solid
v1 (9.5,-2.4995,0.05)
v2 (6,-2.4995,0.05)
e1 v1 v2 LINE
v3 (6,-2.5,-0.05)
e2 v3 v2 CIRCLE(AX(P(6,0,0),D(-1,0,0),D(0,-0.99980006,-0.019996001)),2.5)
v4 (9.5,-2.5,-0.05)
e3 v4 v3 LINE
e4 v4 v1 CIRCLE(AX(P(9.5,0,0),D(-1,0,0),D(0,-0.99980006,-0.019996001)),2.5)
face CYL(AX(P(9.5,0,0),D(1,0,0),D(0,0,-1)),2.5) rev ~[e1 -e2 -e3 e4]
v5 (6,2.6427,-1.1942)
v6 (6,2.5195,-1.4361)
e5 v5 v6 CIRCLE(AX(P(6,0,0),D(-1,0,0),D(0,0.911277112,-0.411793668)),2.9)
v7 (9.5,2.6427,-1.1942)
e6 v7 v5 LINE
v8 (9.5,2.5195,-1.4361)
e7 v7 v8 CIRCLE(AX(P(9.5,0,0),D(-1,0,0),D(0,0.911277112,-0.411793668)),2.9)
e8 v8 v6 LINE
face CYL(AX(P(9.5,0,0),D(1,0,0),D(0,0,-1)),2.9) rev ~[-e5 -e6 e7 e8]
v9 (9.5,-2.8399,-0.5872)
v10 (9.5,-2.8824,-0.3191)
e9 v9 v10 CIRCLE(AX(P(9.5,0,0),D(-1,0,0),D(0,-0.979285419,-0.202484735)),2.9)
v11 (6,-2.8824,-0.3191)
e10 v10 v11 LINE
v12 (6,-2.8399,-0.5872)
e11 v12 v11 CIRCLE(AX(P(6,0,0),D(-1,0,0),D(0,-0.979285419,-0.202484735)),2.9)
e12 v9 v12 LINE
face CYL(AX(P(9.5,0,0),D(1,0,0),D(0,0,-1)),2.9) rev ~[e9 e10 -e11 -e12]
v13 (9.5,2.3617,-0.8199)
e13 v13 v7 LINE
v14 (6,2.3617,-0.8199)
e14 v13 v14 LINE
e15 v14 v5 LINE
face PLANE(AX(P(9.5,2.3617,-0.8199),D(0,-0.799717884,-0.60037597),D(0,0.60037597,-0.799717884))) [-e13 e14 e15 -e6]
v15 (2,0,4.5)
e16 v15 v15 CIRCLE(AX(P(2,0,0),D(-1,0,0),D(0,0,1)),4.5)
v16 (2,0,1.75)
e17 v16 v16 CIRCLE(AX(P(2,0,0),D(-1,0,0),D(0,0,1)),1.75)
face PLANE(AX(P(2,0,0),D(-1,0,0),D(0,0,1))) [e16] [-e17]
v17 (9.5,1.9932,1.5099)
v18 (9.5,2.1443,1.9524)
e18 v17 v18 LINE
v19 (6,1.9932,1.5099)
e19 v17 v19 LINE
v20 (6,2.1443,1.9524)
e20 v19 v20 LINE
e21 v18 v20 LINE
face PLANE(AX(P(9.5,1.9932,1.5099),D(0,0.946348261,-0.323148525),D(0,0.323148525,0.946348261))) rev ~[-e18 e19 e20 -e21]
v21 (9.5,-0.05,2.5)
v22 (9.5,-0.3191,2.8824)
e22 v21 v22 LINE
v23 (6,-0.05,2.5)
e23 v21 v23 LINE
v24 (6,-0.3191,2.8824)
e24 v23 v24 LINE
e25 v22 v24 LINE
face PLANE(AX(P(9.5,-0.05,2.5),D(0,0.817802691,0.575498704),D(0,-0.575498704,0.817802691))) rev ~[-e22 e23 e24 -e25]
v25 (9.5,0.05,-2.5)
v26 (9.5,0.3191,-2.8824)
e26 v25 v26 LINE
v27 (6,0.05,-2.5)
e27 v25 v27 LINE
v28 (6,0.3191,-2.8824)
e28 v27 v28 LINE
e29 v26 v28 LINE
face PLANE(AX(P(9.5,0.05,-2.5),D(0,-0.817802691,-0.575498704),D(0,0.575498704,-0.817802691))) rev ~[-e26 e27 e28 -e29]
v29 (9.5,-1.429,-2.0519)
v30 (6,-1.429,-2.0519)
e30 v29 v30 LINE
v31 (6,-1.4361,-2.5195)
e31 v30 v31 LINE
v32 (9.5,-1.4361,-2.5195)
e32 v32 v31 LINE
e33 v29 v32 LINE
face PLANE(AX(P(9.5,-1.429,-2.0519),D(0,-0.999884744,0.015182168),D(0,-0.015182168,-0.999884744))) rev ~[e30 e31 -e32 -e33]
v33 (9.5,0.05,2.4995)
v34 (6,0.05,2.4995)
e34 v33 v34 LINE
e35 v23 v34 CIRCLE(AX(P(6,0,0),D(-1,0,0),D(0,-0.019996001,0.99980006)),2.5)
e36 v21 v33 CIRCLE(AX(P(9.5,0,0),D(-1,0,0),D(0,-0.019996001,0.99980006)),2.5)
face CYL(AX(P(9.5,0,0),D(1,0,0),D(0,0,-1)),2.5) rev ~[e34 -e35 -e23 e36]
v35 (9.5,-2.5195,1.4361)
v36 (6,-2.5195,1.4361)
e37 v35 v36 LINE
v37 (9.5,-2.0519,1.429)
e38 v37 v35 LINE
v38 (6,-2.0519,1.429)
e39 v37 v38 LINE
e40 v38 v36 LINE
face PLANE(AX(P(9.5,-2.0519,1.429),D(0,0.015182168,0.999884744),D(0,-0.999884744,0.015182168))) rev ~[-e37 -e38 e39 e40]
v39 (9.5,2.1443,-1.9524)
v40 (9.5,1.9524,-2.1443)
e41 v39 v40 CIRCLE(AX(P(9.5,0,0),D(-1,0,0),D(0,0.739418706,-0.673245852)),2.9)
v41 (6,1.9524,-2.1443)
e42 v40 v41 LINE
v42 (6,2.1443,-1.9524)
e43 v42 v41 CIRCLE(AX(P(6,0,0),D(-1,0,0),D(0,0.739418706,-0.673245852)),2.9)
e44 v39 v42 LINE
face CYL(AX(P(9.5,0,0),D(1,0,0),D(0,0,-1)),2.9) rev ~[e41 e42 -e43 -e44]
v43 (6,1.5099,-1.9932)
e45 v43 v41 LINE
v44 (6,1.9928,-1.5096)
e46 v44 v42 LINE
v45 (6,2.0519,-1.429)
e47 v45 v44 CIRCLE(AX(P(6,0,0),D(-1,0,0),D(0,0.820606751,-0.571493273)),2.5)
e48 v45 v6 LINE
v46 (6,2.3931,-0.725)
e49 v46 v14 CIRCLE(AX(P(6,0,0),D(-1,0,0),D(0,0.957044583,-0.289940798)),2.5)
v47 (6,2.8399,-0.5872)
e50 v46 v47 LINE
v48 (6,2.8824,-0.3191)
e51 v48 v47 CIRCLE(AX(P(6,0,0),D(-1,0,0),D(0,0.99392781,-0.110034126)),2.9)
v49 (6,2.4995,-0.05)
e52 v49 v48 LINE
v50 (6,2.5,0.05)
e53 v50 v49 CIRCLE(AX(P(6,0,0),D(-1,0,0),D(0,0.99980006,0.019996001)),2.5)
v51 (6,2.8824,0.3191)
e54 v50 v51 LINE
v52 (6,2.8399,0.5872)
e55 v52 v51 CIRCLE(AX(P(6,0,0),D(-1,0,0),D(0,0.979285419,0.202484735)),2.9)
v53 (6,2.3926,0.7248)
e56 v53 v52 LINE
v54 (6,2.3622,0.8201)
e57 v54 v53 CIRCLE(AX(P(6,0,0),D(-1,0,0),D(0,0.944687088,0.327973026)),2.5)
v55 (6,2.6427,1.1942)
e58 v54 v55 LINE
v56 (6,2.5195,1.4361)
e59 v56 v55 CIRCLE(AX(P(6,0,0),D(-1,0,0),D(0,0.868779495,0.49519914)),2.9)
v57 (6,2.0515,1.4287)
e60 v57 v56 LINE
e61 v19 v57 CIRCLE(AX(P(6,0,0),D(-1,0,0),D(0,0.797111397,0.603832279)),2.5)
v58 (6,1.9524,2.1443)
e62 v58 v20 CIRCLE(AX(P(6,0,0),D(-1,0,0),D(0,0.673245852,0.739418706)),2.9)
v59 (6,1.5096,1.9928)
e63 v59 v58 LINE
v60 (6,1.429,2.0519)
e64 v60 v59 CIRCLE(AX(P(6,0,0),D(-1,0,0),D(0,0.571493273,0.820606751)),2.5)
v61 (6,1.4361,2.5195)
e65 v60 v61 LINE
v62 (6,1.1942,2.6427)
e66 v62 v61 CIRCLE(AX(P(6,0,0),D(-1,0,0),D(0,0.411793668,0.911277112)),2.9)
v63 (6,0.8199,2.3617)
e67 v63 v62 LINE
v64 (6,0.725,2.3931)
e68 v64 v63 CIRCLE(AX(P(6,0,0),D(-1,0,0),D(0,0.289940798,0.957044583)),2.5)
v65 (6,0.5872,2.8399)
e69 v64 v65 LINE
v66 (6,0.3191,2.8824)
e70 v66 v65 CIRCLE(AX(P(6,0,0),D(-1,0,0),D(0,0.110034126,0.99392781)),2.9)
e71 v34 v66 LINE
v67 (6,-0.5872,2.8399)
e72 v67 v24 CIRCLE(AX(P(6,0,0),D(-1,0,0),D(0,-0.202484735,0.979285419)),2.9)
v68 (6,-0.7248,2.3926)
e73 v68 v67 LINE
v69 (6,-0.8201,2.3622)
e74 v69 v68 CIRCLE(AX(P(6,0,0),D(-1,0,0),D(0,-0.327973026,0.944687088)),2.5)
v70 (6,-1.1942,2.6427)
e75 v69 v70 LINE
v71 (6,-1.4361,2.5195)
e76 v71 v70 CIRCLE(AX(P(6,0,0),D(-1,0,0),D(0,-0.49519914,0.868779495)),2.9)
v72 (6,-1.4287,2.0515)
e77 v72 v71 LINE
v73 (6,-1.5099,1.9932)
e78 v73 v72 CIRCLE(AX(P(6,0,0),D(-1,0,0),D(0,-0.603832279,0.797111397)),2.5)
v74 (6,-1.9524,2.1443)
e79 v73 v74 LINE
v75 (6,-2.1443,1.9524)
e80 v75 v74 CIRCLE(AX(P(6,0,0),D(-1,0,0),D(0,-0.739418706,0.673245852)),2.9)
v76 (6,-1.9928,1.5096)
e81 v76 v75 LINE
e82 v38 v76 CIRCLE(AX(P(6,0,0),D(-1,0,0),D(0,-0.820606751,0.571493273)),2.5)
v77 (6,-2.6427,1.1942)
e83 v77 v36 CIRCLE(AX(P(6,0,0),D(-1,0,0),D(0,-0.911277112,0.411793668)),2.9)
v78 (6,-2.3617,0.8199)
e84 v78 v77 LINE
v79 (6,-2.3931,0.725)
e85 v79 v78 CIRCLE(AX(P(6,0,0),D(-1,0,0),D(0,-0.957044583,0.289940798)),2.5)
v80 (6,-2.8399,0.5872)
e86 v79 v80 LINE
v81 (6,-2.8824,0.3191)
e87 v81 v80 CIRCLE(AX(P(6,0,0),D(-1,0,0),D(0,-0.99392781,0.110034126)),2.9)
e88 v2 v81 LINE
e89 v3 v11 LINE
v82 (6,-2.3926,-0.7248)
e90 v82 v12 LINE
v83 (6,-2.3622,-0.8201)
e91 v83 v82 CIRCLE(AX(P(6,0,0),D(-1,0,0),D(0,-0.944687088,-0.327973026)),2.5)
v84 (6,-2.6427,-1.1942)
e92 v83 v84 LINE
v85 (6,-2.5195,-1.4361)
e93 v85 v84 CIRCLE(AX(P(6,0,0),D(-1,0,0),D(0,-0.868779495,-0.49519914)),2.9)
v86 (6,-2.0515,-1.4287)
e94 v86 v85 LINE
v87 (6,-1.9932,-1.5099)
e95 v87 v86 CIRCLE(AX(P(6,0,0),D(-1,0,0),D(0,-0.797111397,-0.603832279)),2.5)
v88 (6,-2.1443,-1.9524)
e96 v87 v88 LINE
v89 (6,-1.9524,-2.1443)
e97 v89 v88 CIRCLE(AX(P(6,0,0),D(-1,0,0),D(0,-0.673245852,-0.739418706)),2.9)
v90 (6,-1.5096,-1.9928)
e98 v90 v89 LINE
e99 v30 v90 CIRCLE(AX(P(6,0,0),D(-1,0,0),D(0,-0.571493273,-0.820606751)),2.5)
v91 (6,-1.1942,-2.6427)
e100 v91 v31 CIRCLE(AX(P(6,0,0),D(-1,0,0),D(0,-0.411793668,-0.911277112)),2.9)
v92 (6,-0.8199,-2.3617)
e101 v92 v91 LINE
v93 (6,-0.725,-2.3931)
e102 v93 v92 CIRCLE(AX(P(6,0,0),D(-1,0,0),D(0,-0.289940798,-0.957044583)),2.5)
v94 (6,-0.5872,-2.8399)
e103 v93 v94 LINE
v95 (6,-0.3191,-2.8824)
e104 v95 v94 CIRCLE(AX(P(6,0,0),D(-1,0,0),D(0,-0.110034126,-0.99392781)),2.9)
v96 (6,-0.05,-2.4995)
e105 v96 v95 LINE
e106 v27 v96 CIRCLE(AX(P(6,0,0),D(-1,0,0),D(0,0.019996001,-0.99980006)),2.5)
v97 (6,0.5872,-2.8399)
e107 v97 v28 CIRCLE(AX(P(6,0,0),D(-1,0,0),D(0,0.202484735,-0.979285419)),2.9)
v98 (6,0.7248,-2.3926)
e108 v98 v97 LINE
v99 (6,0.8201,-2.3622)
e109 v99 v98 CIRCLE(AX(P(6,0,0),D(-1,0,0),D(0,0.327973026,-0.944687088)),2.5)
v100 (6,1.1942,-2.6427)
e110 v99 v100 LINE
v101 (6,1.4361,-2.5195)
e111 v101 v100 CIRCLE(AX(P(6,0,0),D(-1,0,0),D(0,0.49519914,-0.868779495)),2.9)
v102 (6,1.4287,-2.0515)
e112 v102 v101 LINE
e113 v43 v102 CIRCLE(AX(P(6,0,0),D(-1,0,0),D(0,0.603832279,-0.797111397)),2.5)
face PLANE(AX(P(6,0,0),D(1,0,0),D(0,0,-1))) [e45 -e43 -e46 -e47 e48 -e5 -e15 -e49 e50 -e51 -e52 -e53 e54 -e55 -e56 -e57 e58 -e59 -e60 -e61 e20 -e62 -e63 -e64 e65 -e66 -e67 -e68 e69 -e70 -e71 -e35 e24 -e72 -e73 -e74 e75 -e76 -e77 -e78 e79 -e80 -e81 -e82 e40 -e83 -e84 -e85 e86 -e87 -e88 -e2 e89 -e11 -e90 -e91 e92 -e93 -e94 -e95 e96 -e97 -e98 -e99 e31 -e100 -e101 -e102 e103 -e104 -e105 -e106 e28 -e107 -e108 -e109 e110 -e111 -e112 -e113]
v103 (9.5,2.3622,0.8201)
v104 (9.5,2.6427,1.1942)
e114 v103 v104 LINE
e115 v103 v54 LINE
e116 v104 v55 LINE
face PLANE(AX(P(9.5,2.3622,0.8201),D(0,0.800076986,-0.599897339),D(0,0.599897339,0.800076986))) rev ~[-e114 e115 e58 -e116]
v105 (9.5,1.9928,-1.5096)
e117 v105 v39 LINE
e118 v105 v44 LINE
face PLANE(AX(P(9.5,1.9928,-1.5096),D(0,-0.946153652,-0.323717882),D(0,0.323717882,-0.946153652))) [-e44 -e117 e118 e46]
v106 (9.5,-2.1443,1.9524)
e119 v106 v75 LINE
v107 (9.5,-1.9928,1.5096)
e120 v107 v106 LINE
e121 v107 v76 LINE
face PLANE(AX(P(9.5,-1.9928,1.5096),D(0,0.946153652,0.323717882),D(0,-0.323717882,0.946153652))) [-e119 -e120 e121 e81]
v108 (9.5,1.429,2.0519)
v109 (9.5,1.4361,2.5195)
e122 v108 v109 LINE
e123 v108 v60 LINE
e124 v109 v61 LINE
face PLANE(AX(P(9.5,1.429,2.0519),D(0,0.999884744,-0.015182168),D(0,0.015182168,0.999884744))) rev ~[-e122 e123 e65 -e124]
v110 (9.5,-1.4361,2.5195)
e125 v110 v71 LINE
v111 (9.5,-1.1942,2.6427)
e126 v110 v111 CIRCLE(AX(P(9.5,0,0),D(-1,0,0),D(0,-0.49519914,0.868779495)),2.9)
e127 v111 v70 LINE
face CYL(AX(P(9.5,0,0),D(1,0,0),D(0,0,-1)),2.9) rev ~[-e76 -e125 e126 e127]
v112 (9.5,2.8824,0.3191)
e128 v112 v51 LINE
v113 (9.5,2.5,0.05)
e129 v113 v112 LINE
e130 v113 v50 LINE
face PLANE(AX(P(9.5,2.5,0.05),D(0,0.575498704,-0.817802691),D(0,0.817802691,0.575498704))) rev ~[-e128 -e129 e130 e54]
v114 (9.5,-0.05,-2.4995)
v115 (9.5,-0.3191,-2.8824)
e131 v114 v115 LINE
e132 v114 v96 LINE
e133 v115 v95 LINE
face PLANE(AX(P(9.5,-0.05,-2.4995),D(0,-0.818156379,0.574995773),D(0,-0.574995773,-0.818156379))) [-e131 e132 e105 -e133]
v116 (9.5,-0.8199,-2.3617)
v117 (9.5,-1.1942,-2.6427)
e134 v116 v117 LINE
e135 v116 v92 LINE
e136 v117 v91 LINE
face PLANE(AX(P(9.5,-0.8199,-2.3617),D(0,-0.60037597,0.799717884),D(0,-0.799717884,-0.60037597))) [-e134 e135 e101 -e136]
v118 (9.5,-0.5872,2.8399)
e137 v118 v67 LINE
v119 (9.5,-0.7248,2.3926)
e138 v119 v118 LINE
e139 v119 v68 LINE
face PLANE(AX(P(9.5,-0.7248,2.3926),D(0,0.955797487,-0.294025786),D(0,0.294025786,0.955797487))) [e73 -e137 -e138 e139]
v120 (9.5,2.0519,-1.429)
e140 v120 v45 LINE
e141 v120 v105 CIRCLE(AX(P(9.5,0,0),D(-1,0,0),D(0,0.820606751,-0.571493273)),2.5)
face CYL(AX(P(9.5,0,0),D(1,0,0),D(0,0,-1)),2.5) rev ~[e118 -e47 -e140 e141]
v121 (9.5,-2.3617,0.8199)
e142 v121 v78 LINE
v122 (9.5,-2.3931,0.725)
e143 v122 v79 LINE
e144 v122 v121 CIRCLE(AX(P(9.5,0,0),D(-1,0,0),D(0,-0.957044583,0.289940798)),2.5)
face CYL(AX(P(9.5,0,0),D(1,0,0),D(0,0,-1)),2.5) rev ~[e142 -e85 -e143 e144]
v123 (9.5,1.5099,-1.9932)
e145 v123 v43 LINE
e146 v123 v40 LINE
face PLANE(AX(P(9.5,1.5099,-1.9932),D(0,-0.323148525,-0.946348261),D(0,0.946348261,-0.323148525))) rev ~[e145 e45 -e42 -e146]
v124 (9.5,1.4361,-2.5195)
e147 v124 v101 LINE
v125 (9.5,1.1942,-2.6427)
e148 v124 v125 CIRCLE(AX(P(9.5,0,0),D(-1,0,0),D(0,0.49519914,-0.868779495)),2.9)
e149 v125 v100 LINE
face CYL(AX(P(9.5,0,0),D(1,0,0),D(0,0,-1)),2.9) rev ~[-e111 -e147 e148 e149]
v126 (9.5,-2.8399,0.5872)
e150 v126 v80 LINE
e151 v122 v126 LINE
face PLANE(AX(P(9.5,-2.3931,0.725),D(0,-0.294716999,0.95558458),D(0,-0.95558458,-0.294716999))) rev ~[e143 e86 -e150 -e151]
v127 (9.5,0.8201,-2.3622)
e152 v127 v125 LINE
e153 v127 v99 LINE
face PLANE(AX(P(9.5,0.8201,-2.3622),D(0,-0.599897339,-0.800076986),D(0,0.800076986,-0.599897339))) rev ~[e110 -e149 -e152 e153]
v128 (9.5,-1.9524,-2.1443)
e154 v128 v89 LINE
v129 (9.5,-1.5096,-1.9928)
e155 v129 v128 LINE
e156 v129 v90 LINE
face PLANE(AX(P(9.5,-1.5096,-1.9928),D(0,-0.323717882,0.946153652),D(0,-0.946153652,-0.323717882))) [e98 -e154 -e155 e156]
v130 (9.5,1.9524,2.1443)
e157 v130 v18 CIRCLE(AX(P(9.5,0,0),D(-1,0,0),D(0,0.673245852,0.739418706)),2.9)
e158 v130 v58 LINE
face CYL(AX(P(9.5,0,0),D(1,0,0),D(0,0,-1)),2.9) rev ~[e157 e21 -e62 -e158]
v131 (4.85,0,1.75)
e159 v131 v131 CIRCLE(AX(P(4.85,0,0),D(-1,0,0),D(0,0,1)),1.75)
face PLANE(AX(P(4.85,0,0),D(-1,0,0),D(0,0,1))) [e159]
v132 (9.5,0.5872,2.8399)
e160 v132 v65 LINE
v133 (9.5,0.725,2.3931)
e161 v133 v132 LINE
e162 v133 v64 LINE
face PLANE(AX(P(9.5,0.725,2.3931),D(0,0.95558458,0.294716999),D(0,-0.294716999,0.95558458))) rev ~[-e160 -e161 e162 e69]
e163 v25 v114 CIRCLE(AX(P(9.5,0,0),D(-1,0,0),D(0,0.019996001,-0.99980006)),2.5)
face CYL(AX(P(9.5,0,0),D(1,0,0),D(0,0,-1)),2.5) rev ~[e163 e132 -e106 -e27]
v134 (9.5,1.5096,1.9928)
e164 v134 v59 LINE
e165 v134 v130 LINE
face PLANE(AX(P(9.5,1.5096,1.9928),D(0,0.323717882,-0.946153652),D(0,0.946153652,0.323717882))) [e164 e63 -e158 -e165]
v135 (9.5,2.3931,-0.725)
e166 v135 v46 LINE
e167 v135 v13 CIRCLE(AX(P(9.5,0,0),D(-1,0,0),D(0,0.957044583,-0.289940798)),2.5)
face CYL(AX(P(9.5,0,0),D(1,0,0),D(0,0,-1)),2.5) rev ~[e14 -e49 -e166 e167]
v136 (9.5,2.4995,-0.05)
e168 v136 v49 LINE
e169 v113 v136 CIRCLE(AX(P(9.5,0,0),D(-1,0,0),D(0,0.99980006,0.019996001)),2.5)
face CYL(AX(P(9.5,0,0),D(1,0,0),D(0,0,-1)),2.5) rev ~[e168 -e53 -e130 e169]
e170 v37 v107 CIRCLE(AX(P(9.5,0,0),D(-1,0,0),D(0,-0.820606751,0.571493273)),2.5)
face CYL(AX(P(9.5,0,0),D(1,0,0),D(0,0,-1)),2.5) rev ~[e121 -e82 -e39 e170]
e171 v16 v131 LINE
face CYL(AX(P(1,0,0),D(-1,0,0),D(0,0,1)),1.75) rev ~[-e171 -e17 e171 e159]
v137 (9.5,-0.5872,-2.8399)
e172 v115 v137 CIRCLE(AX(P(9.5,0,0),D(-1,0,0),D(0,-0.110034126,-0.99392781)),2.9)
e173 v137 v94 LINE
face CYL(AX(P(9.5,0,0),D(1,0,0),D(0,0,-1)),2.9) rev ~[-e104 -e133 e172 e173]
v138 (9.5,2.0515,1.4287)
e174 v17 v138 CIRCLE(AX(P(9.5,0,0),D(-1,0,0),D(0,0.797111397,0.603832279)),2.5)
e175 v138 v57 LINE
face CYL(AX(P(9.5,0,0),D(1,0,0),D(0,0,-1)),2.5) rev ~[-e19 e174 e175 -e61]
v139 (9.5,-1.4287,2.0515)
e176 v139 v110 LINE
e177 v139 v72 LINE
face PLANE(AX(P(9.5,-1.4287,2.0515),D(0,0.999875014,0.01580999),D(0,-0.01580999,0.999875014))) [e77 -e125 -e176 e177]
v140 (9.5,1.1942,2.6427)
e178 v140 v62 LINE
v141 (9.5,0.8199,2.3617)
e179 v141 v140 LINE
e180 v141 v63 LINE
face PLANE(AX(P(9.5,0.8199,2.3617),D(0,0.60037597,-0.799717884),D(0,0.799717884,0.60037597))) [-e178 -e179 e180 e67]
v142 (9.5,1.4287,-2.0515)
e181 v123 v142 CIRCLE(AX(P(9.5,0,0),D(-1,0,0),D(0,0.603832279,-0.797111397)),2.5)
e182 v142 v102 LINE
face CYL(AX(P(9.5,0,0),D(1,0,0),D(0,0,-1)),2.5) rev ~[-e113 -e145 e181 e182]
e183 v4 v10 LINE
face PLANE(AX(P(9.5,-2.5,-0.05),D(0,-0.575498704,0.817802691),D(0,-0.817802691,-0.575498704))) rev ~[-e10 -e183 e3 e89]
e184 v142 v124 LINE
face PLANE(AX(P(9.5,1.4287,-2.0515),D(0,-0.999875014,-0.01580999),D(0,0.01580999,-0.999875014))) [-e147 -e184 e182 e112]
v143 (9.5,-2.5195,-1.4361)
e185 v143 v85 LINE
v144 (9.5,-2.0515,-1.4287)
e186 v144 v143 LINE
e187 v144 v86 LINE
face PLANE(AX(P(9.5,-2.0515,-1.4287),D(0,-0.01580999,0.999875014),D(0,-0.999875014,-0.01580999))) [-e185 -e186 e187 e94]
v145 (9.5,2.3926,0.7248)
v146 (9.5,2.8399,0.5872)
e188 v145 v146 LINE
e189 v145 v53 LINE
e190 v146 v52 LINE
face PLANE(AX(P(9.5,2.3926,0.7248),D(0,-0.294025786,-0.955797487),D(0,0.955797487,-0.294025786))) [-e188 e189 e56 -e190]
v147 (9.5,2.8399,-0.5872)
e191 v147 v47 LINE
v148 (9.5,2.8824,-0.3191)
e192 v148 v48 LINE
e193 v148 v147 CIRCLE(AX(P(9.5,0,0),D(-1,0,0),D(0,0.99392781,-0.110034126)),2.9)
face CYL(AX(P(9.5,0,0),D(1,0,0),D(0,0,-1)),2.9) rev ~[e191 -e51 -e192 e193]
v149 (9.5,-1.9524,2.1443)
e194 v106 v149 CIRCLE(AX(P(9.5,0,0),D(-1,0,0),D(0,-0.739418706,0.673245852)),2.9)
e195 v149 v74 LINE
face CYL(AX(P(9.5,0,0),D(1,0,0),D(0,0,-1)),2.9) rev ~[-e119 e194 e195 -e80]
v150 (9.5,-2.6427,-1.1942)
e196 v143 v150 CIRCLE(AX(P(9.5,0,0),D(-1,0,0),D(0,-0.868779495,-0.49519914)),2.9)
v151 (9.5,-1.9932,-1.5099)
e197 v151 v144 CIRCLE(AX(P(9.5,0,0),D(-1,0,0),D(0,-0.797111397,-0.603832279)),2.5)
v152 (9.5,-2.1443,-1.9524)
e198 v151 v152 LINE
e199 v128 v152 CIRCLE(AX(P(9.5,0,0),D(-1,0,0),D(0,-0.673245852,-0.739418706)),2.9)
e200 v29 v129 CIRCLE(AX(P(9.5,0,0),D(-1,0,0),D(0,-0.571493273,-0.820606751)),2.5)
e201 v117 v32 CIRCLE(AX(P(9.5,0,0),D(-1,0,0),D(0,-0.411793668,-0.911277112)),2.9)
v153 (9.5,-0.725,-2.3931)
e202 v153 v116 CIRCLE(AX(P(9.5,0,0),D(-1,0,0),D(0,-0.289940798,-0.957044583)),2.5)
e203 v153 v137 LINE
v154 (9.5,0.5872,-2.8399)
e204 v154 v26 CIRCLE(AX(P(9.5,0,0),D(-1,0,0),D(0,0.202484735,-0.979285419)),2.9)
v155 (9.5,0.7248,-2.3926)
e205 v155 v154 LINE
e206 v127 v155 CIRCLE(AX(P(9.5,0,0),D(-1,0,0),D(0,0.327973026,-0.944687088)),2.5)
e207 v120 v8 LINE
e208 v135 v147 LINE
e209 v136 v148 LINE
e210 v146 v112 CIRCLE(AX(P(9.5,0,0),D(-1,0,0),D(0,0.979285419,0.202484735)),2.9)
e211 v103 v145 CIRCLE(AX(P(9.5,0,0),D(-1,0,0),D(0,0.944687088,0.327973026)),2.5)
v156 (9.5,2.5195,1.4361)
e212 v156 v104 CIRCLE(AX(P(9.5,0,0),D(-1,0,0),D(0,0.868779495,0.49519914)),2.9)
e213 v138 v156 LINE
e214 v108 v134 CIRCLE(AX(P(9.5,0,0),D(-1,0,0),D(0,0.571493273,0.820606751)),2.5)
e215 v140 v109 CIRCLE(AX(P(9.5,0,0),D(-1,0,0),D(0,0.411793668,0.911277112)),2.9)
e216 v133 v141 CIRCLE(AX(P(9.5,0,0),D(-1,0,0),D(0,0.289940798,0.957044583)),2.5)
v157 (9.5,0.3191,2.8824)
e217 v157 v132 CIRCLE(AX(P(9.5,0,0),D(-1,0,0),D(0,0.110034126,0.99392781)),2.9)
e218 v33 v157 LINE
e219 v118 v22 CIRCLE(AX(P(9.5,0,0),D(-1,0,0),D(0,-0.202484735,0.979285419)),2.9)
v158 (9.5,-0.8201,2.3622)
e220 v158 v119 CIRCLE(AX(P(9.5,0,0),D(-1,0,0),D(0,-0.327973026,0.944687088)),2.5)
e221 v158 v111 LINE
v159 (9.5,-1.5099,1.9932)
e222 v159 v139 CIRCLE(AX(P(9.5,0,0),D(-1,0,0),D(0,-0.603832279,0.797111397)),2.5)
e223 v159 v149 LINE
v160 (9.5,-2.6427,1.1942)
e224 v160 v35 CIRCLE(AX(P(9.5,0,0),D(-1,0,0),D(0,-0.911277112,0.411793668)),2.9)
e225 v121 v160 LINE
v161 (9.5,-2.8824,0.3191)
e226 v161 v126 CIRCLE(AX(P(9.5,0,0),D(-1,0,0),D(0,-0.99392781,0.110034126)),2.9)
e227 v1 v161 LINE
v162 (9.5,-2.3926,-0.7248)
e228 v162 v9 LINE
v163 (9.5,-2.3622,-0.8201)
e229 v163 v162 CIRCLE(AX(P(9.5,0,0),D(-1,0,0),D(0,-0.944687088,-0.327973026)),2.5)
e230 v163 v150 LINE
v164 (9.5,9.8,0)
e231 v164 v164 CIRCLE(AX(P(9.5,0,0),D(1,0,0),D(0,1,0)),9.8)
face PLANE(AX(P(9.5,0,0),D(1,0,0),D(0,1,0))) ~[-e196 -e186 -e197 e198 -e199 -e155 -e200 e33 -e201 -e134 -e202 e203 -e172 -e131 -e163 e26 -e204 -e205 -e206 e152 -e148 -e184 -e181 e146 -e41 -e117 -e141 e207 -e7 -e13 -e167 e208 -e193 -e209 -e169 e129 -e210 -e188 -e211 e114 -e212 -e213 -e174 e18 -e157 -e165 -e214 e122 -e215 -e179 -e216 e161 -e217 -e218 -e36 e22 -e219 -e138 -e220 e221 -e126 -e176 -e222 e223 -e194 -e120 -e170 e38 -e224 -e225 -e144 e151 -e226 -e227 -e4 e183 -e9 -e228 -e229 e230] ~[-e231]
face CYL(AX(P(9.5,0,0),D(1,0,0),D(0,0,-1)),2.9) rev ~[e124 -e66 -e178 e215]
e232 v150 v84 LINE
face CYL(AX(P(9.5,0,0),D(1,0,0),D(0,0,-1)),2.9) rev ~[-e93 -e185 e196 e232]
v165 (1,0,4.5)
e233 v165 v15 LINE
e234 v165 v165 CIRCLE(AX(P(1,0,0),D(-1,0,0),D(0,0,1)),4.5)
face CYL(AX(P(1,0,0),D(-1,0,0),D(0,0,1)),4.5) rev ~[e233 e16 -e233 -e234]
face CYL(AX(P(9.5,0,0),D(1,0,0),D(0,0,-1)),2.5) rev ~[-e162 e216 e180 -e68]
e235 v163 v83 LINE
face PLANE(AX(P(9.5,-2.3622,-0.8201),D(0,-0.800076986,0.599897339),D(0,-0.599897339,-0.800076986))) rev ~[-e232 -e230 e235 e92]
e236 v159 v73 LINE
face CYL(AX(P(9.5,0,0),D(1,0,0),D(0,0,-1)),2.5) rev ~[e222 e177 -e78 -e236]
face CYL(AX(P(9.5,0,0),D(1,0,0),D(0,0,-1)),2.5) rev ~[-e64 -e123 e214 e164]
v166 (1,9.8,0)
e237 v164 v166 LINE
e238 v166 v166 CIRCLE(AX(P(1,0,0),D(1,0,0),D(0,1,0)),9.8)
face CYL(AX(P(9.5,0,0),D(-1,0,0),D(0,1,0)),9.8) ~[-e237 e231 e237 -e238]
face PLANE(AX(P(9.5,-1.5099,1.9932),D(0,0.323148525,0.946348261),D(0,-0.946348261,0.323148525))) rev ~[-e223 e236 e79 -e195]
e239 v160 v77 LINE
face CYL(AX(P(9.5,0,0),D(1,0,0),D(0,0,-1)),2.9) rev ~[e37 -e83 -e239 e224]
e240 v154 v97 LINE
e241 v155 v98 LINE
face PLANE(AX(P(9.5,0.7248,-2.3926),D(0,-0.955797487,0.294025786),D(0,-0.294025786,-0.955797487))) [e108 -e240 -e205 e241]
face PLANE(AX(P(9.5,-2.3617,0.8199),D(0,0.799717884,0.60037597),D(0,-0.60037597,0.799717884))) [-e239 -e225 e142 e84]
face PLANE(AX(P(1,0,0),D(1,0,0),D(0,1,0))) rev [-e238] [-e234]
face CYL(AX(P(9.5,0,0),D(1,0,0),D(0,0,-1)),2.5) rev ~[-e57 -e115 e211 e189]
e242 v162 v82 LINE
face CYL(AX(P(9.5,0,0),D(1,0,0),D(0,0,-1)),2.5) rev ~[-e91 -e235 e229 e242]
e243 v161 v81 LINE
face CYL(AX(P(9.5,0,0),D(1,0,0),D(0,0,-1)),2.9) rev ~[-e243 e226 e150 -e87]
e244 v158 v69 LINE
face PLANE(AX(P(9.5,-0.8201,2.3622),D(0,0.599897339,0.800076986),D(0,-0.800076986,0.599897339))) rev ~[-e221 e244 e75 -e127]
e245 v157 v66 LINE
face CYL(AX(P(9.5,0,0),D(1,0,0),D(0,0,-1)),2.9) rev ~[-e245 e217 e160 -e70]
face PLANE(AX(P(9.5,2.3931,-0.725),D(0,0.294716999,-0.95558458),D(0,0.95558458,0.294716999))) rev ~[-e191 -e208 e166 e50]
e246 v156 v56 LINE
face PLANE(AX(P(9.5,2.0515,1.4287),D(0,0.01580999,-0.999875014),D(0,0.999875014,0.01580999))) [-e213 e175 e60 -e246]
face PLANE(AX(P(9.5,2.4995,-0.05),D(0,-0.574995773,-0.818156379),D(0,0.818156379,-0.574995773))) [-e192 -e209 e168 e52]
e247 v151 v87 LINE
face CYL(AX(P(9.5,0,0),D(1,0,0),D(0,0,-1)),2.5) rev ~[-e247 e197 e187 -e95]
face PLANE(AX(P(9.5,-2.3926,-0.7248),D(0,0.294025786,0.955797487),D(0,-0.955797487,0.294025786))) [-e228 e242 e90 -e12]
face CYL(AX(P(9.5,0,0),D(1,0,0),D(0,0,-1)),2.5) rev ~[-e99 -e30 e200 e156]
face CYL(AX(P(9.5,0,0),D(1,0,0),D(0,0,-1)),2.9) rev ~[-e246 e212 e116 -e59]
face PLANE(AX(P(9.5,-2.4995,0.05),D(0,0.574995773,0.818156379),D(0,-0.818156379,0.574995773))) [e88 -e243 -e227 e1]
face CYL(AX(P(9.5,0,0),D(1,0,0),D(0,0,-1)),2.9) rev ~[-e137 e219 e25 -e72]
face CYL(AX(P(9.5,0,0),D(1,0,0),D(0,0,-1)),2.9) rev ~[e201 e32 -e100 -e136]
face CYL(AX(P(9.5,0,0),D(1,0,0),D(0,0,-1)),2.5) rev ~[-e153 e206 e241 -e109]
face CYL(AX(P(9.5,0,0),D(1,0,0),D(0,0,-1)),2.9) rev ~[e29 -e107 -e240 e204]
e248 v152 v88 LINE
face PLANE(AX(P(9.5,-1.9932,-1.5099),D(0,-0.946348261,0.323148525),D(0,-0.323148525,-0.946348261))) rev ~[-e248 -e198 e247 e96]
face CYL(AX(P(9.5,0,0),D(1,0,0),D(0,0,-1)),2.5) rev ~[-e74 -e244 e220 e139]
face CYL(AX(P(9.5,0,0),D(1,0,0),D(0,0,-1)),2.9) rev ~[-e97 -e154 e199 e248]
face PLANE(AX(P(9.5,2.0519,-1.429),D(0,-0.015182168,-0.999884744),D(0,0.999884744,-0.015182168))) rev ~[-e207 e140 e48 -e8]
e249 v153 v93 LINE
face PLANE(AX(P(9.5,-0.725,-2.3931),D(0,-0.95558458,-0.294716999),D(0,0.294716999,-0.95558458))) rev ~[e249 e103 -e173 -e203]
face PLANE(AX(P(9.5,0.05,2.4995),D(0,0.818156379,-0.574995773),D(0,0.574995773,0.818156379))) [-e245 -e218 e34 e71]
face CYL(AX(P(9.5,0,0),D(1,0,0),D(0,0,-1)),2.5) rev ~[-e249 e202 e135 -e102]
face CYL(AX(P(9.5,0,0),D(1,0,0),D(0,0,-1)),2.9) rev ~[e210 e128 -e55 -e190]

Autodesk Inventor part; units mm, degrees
ref_plane "YZ Plane" through (0, 0, 0) normal (1, 0, 0) x (0, 1, 0)
ref_plane "XZ Plane" through (0, 0, 0) normal (0, 1, 0) x (-1, 0, 0)
ref_plane "XY Plane" through (0, 0, 0) normal (0, 0, 1) x (1, 0, 0)
sketch "Esboço2" plane through (0, 0, 0) normal (0, 0, 1) x (1, 0, 0)
  line L0 (0, 0) -> (9.5, 0)
  line L1 (9.5, 0) -> (9.5, 9.8)
  line L2 (9.5, 9.8) -> (0, 9.8)
  line L3 (0, 9.8) -> (0, 0)
  line L4 (9.5, 0) -> (1, 0)
  line L5 (9.5, 0) -> (0.5, 0)
  line L6 (0, 0) -> (1, 0)
  line L7 (1, 0) -> (1, 9.8)
  dimension "d0" = 9.5
  dimension "d1" = 9.8
  dimension "d71" = 8.5
  dimension "d72" = 9
revolve "Revolução1" add sketch "Esboço2" angle 360 about axis through (0, 0, 0) along (1, 0, 0) contours L7 L2 L1 L0
sketch "Esboço12" plane through (9.5, 0, 0) normal (1, 0, 0) x (0, 0, -1)
  point P0 (0, 0)
sketch "Esboço13" plane through (1, 0, 0) normal (-1, 0, 0) x (0, 0, 1)
  circle A0 centre (0, 0) radius 1.75
  dimension "d73" = 3.5
extrude "Extrusão6" cut sketch "Esboço13" against normal blind 3.85
sketch "Esboço14" plane through (1, 0, 0) normal (-1, 0, 0) x (0, 0, 1)
  circle A0 centre (0, 0) radius 1.75 projected
  circle A1 centre (0, 0) radius 4.5
  dimension "d76" = 9
extrude "Extrusão7" cut sketch "Esboço14" against normal blind 1
sketch "Esboço15" plane through (9.5, 0, 0) normal (1, 0, 0) x (0, 0, -1)
  circle A0 centre (0, 0) radius 2.5
  circle A1 centre (0, 0) radius 1.75 projected
  circle A2 centre (0, 0) radius 2.9
  line L0 (2.5, 0) -> (2.5, 0.05)
  line L1 (2.5, 0) -> (2.4995, -0.05)
  line L2 (2.4995, -0.05) -> (2.8824, -0.3191)
  line L3 (2.5, 0.05) -> (2.8824, 0.3191)
  line L4 (2.8824, 0.3191) -> (2.8765, 0.3688)
  line L5 (2.8824, -0.3191) -> (2.8824, -0.3191)
  line L6 (2.8824, -0.3191) -> (2.8824, -0.3191)
  line L7 (2.8824, -0.3191) -> (2.8824, -0.3191)
  line L8 (2.8824, -0.3191) -> (2.8824, -0.3191)
  line L9 (2.8824, -0.3191) -> (2.8824, -0.3191)
  line L10 (2.8795, -0.3439) -> (2.8795, -0.3439)
  line L11 (2.8824, -0.3191) -> (2.8824, -0.3191)
  line L12 (2.3622, 0.8201) -> (2.6427, 1.1942)
  line L13 (2.6427, 1.1942) -> (2.6217, 1.2396)
  line L14 (2.3776, 0.7725) -> (2.3622, 0.8201)
  line L15 (2.3776, 0.7725) -> (2.3926, 0.7248)
  line L16 (2.3926, 0.7248) -> (2.8399, 0.5872)
  circle A3 centre (0, 0) radius 2.9
  line L17 (1.9932, 1.5099) -> (2.1443, 1.9524)
  line L18 (2.1443, 1.9524) -> (2.1104, 1.9891)
  line L19 (2.0225, 1.4695) -> (1.9932, 1.5099)
  line L20 (2.0225, 1.4695) -> (2.0515, 1.4287)
  line L21 (2.0515, 1.4287) -> (2.5195, 1.4361)
  circle A4 centre (0, 0) radius 2.9
  line L22 (1.429, 2.0519) -> (1.4361, 2.5195)
  line L23 (1.4361, 2.5195) -> (1.3924, 2.5439)
  line L24 (1.4695, 2.0225) -> (1.429, 2.0519)
  line L25 (1.4695, 2.0225) -> (1.5096, 1.9928)
  line L26 (1.5096, 1.9928) -> (1.9524, 2.1443)
  circle A5 centre (0, 0) radius 2.9
  line L27 (0.725, 2.3931) -> (0.5872, 2.8399)
  line L28 (0.5872, 2.8399) -> (0.5382, 2.8496)
  line L29 (0.7725, 2.3776) -> (0.725, 2.3931)
  line L30 (0.7725, 2.3776) -> (0.8199, 2.3617)
  line L31 (0.8199, 2.3617) -> (1.1942, 2.6427)
  circle A6 centre (0, 0) radius 2.9
  line L32 (-0.05, 2.5) -> (-0.3191, 2.8824)
  line L33 (-0.3191, 2.8824) -> (-0.3688, 2.8765)
  line L34 (0, 2.5) -> (-0.05, 2.5)
  line L35 (0, 2.5) -> (0.05, 2.4995)
  line L36 (0.05, 2.4995) -> (0.3191, 2.8824)
  circle A7 centre (0, 0) radius 2.9
  line L37 (-0.8201, 2.3622) -> (-1.1942, 2.6427)
  line L38 (-1.1942, 2.6427) -> (-1.2396, 2.6217)
  line L39 (-0.7725, 2.3776) -> (-0.8201, 2.3622)
  line L40 (-0.7725, 2.3776) -> (-0.7248, 2.3926)
  line L41 (-0.7248, 2.3926) -> (-0.5872, 2.8399)
  circle A8 centre (0, 0) radius 2.9
  line L42 (-1.5099, 1.9932) -> (-1.9524, 2.1443)
  line L43 (-1.9524, 2.1443) -> (-1.9891, 2.1104)
  line L44 (-1.4695, 2.0225) -> (-1.5099, 1.9932)
  line L45 (-1.4695, 2.0225) -> (-1.4287, 2.0515)
  line L46 (-1.4287, 2.0515) -> (-1.4361, 2.5195)
  circle A9 centre (0, 0) radius 2.9
  line L47 (-2.0519, 1.429) -> (-2.5195, 1.4361)
  line L48 (-2.5195, 1.4361) -> (-2.5439, 1.3924)
  line L49 (-2.0225, 1.4695) -> (-2.0519, 1.429)
  line L50 (-2.0225, 1.4695) -> (-1.9928, 1.5096)
  line L51 (-1.9928, 1.5096) -> (-2.1443, 1.9524)
  circle A10 centre (0, 0) radius 2.9
  line L52 (-2.3931, 0.725) -> (-2.8399, 0.5872)
  line L53 (-2.8399, 0.5872) -> (-2.8496, 0.5382)
  line L54 (-2.3776, 0.7725) -> (-2.3931, 0.725)
  line L55 (-2.3776, 0.7725) -> (-2.3617, 0.8199)
  line L56 (-2.3617, 0.8199) -> (-2.6427, 1.1942)
  circle A11 centre (0, 0) radius 2.9
  line L57 (-2.5, -0.05) -> (-2.8824, -0.3191)
  line L58 (-2.8824, -0.3191) -> (-2.8765, -0.3688)
  line L59 (-2.5, 0) -> (-2.5, -0.05)
  line L60 (-2.5, 0) -> (-2.4995, 0.05)
  line L61 (-2.4995, 0.05) -> (-2.8824, 0.3191)
  circle A12 centre (0, 0) radius 2.9
  line L62 (-2.3622, -0.8201) -> (-2.6427, -1.1942)
  line L63 (-2.6427, -1.1942) -> (-2.6217, -1.2396)
  line L64 (-2.3776, -0.7725) -> (-2.3622, -0.8201)
  line L65 (-2.3776, -0.7725) -> (-2.3926, -0.7248)
  line L66 (-2.3926, -0.7248) -> (-2.8399, -0.5872)
  circle A13 centre (0, 0) radius 2.9
  line L67 (-1.9932, -1.5099) -> (-2.1443, -1.9524)
  line L68 (-2.1443, -1.9524) -> (-2.1104, -1.9891)
  line L69 (-2.0225, -1.4695) -> (-1.9932, -1.5099)
  line L70 (-2.0225, -1.4695) -> (-2.0515, -1.4287)
  line L71 (-2.0515, -1.4287) -> (-2.5195, -1.4361)
  circle A14 centre (0, 0) radius 2.9
  line L72 (-1.429, -2.0519) -> (-1.4361, -2.5195)
  line L73 (-1.4361, -2.5195) -> (-1.3924, -2.5439)
  line L74 (-1.4695, -2.0225) -> (-1.429, -2.0519)
  line L75 (-1.4695, -2.0225) -> (-1.5096, -1.9928)
  line L76 (-1.5096, -1.9928) -> (-1.9524, -2.1443)
  circle A15 centre (0, 0) radius 2.9
  line L77 (-0.725, -2.3931) -> (-0.5872, -2.8399)
  line L78 (-0.5872, -2.8399) -> (-0.5382, -2.8496)
  line L79 (-0.7725, -2.3776) -> (-0.725, -2.3931)
  line L80 (-0.7725, -2.3776) -> (-0.8199, -2.3617)
  line L81 (-0.8199, -2.3617) -> (-1.1942, -2.6427)
  circle A16 centre (0, 0) radius 2.9
  line L82 (0.05, -2.5) -> (0.3191, -2.8824)
  line L83 (0.3191, -2.8824) -> (0.3688, -2.8765)
  line L84 (0, -2.5) -> (0.05, -2.5)
  line L85 (0, -2.5) -> (-0.05, -2.4995)
  line L86 (-0.05, -2.4995) -> (-0.3191, -2.8824)
  circle A17 centre (0, 0) radius 2.9
  line L87 (0.8201, -2.3622) -> (1.1942, -2.6427)
  line L88 (1.1942, -2.6427) -> (1.2396, -2.6217)
  line L89 (0.7725, -2.3776) -> (0.8201, -2.3622)
  line L90 (0.7725, -2.3776) -> (0.7248, -2.3926)
  line L91 (0.7248, -2.3926) -> (0.5872, -2.8399)
  circle A18 centre (0, 0) radius 2.9
  line L92 (1.5099, -1.9932) -> (1.9524, -2.1443)
  line L93 (1.9524, -2.1443) -> (1.9891, -2.1104)
  line L94 (1.4695, -2.0225) -> (1.5099, -1.9932)
  line L95 (1.4695, -2.0225) -> (1.4287, -2.0515)
  line L96 (1.4287, -2.0515) -> (1.4361, -2.5195)
  circle A19 centre (0, 0) radius 2.9
  line L97 (2.0519, -1.429) -> (2.5195, -1.4361)
  line L98 (2.5195, -1.4361) -> (2.5439, -1.3924)
  line L99 (2.0225, -1.4695) -> (2.0519, -1.429)
  line L100 (2.0225, -1.4695) -> (1.9928, -1.5096)
  line L101 (1.9928, -1.5096) -> (2.1443, -1.9524)
  circle A20 centre (0, 0) radius 2.9
  line L102 (2.3931, -0.725) -> (2.8399, -0.5872)
  line L103 (2.8399, -0.5872) -> (2.8496, -0.5382)
  line L104 (2.3776, -0.7725) -> (2.3931, -0.725)
  line L105 (2.3776, -0.7725) -> (2.3617, -0.8199)
  line L106 (2.3617, -0.8199) -> (2.6427, -1.1942)
  circle A21 centre (0, 0) radius 2.9
  point P0 (2.8399, 0.5872)
  point P1 (2.8399, 0.5872)
  point P2 (2.8399, 0.5872)
  point P3 (2.8399, 0.5872)
  point P4 (2.8399, 0.5872)
  point P5 (2.8449, 0.5627)
  point P6 (2.8449, 0.5627)
  point P7 (2.8399, 0.5872)
  point P8 (2.5195, 1.4361)
  point P9 (2.5195, 1.4361)
  point P10 (2.5195, 1.4361)
  point P11 (2.5195, 1.4361)
  point P12 (2.5195, 1.4361)
  point P13 (2.5318, 1.4143)
  point P14 (2.5318, 1.4143)
  point P15 (2.5195, 1.4361)
  point P16 (1.9524, 2.1443)
  point P17 (1.9524, 2.1443)
  point P18 (1.9524, 2.1443)
  point P19 (1.9524, 2.1443)
  point P20 (1.9524, 2.1443)
  point P21 (1.9708, 2.1274)
  point P22 (1.9708, 2.1274)
  point P23 (1.9524, 2.1443)
  point P24 (1.1942, 2.6427)
  point P25 (1.1942, 2.6427)
  point P26 (1.1942, 2.6427)
  point P27 (1.1942, 2.6427)
  point P28 (1.1942, 2.6427)
  point P29 (1.2169, 2.6323)
  point P30 (1.2169, 2.6323)
  point P31 (1.1942, 2.6427)
  point P32 (0.3191, 2.8824)
  point P33 (0.3191, 2.8824)
  point P34 (0.3191, 2.8824)
  point P35 (0.3191, 2.8824)
  point P36 (0.3191, 2.8824)
  point P37 (0.3439, 2.8795)
  point P38 (0.3439, 2.8795)
  point P39 (0.3191, 2.8824)
  point P40 (-0.5872, 2.8399)
  point P41 (-0.5872, 2.8399)
  point P42 (-0.5872, 2.8399)
  point P43 (-0.5872, 2.8399)
  point P44 (-0.5872, 2.8399)
  point P45 (-0.5627, 2.8449)
  point P46 (-0.5627, 2.8449)
  point P47 (-0.5872, 2.8399)
  point P48 (-1.4361, 2.5195)
  point P49 (-1.4361, 2.5195)
  point P50 (-1.4361, 2.5195)
  point P51 (-1.4361, 2.5195)
  point P52 (-1.4361, 2.5195)
  point P53 (-1.4143, 2.5318)
  point P54 (-1.4143, 2.5318)
  point P55 (-1.4361, 2.5195)
  point P56 (-2.1443, 1.9524)
  point P57 (-2.1443, 1.9524)
  point P58 (-2.1443, 1.9524)
  point P59 (-2.1443, 1.9524)
  point P60 (-2.1443, 1.9524)
  point P61 (-2.1274, 1.9708)
  point P62 (-2.1274, 1.9708)
  point P63 (-2.1443, 1.9524)
  point P64 (-2.6427, 1.1942)
  point P65 (-2.6427, 1.1942)
  point P66 (-2.6427, 1.1942)
  point P67 (-2.6427, 1.1942)
  point P68 (-2.6427, 1.1942)
  point P69 (-2.6323, 1.2169)
  point P70 (-2.6323, 1.2169)
  point P71 (-2.6427, 1.1942)
  point P72 (-2.8824, 0.3191)
  point P73 (-2.8824, 0.3191)
  point P74 (-2.8824, 0.3191)
  point P75 (-2.8824, 0.3191)
  point P76 (-2.8824, 0.3191)
  point P77 (-2.8795, 0.3439)
  point P78 (-2.8795, 0.3439)
  point P79 (-2.8824, 0.3191)
  point P80 (-2.8399, -0.5872)
  point P81 (-2.8399, -0.5872)
  point P82 (-2.8399, -0.5872)
  point P83 (-2.8399, -0.5872)
  point P84 (-2.8399, -0.5872)
  point P85 (-2.8449, -0.5627)
  point P86 (-2.8449, -0.5627)
  point P87 (-2.8399, -0.5872)
  point P88 (-2.5195, -1.4361)
  point P89 (-2.5195, -1.4361)
  point P90 (-2.5195, -1.4361)
  point P91 (-2.5195, -1.4361)
  point P92 (-2.5195, -1.4361)
  point P93 (-2.5318, -1.4143)
  point P94 (-2.5318, -1.4143)
  point P95 (-2.5195, -1.4361)
  point P96 (-1.9524, -2.1443)
  point P97 (-1.9524, -2.1443)
  point P98 (-1.9524, -2.1443)
  point P99 (-1.9524, -2.1443)
  point P100 (-1.9524, -2.1443)
  point P101 (-1.9708, -2.1274)
  point P102 (-1.9708, -2.1274)
  point P103 (-1.9524, -2.1443)
  point P104 (-1.1942, -2.6427)
  point P105 (-1.1942, -2.6427)
  point P106 (-1.1942, -2.6427)
  point P107 (-1.1942, -2.6427)
  point P108 (-1.1942, -2.6427)
  point P109 (-1.2169, -2.6323)
  point P110 (-1.2169, -2.6323)
  point P111 (-1.1942, -2.6427)
  point P112 (-0.3191, -2.8824)
  point P113 (-0.3191, -2.8824)
  point P114 (-0.3191, -2.8824)
  point P115 (-0.3191, -2.8824)
  point P116 (-0.3191, -2.8824)
  point P117 (-0.3439, -2.8795)
  point P118 (-0.3439, -2.8795)
  point P119 (-0.3191, -2.8824)
  point P120 (0.5872, -2.8399)
  point P121 (0.5872, -2.8399)
  point P122 (0.5872, -2.8399)
  point P123 (0.5872, -2.8399)
  point P124 (0.5872, -2.8399)
  point P125 (0.5627, -2.8449)
  point P126 (0.5627, -2.8449)
  point P127 (0.5872, -2.8399)
  point P128 (1.4361, -2.5195)
  point P129 (1.4361, -2.5195)
  point P130 (1.4361, -2.5195)
  point P131 (1.4361, -2.5195)
  point P132 (1.4361, -2.5195)
  point P133 (1.4143, -2.5318)
  point P134 (1.4143, -2.5318)
  point P135 (1.4361, -2.5195)
  point P136 (2.1443, -1.9524)
  point P137 (2.1443, -1.9524)
  point P138 (2.1443, -1.9524)
  point P139 (2.1443, -1.9524)
  point P140 (2.1443, -1.9524)
  point P141 (2.1274, -1.9708)
  point P142 (2.1274, -1.9708)
  point P143 (2.1443, -1.9524)
  point P144 (2.6427, -1.1942)
  point P145 (2.6427, -1.1942)
  point P146 (2.6427, -1.1942)
  point P147 (2.6427, -1.1942)
  point P148 (2.6427, -1.1942)
  point P149 (2.6323, -1.2169)
  point P150 (2.6323, -1.2169)
  point P151 (2.6427, -1.1942)
  dimension "d79" = 5
  dimension "d80" = 5.8
  dimension "d81" = 0.05
  dimension "d82" = 0.05
  dimension "d83" = 0.468
  dimension "d85" = 0.05
  dimension "d88" = 360
extrude "Extrusão8" cut sketch "Esboço15" against normal blind 3.5 contours A0 | A0 L16 A2 L3 | L2 A2 L102 A0 | A0 L21 A2 L12 | L106 A2 L97 A0 | A0 L26 A2 L17 | L101 A2 L92 A0 | A0 L31 A2 L22 | L96 A2 L87 A0 | A0 L36 A2 L27 | L91 A2 L82 A0 | A0 L41 A2 L32 | L86 A2 L77 A0 | A0 L46 A2 L37 | L81 A2 L72 A0 | A0 L51 A2 L42 | L76 A2 L67 A0 | A0 L56 A2 L47 | L71 A2 L62 A0 | A0 L61 A2 L52 | L66 A2 L57 A0 | A1
properties part number "roda certa 3.0"
